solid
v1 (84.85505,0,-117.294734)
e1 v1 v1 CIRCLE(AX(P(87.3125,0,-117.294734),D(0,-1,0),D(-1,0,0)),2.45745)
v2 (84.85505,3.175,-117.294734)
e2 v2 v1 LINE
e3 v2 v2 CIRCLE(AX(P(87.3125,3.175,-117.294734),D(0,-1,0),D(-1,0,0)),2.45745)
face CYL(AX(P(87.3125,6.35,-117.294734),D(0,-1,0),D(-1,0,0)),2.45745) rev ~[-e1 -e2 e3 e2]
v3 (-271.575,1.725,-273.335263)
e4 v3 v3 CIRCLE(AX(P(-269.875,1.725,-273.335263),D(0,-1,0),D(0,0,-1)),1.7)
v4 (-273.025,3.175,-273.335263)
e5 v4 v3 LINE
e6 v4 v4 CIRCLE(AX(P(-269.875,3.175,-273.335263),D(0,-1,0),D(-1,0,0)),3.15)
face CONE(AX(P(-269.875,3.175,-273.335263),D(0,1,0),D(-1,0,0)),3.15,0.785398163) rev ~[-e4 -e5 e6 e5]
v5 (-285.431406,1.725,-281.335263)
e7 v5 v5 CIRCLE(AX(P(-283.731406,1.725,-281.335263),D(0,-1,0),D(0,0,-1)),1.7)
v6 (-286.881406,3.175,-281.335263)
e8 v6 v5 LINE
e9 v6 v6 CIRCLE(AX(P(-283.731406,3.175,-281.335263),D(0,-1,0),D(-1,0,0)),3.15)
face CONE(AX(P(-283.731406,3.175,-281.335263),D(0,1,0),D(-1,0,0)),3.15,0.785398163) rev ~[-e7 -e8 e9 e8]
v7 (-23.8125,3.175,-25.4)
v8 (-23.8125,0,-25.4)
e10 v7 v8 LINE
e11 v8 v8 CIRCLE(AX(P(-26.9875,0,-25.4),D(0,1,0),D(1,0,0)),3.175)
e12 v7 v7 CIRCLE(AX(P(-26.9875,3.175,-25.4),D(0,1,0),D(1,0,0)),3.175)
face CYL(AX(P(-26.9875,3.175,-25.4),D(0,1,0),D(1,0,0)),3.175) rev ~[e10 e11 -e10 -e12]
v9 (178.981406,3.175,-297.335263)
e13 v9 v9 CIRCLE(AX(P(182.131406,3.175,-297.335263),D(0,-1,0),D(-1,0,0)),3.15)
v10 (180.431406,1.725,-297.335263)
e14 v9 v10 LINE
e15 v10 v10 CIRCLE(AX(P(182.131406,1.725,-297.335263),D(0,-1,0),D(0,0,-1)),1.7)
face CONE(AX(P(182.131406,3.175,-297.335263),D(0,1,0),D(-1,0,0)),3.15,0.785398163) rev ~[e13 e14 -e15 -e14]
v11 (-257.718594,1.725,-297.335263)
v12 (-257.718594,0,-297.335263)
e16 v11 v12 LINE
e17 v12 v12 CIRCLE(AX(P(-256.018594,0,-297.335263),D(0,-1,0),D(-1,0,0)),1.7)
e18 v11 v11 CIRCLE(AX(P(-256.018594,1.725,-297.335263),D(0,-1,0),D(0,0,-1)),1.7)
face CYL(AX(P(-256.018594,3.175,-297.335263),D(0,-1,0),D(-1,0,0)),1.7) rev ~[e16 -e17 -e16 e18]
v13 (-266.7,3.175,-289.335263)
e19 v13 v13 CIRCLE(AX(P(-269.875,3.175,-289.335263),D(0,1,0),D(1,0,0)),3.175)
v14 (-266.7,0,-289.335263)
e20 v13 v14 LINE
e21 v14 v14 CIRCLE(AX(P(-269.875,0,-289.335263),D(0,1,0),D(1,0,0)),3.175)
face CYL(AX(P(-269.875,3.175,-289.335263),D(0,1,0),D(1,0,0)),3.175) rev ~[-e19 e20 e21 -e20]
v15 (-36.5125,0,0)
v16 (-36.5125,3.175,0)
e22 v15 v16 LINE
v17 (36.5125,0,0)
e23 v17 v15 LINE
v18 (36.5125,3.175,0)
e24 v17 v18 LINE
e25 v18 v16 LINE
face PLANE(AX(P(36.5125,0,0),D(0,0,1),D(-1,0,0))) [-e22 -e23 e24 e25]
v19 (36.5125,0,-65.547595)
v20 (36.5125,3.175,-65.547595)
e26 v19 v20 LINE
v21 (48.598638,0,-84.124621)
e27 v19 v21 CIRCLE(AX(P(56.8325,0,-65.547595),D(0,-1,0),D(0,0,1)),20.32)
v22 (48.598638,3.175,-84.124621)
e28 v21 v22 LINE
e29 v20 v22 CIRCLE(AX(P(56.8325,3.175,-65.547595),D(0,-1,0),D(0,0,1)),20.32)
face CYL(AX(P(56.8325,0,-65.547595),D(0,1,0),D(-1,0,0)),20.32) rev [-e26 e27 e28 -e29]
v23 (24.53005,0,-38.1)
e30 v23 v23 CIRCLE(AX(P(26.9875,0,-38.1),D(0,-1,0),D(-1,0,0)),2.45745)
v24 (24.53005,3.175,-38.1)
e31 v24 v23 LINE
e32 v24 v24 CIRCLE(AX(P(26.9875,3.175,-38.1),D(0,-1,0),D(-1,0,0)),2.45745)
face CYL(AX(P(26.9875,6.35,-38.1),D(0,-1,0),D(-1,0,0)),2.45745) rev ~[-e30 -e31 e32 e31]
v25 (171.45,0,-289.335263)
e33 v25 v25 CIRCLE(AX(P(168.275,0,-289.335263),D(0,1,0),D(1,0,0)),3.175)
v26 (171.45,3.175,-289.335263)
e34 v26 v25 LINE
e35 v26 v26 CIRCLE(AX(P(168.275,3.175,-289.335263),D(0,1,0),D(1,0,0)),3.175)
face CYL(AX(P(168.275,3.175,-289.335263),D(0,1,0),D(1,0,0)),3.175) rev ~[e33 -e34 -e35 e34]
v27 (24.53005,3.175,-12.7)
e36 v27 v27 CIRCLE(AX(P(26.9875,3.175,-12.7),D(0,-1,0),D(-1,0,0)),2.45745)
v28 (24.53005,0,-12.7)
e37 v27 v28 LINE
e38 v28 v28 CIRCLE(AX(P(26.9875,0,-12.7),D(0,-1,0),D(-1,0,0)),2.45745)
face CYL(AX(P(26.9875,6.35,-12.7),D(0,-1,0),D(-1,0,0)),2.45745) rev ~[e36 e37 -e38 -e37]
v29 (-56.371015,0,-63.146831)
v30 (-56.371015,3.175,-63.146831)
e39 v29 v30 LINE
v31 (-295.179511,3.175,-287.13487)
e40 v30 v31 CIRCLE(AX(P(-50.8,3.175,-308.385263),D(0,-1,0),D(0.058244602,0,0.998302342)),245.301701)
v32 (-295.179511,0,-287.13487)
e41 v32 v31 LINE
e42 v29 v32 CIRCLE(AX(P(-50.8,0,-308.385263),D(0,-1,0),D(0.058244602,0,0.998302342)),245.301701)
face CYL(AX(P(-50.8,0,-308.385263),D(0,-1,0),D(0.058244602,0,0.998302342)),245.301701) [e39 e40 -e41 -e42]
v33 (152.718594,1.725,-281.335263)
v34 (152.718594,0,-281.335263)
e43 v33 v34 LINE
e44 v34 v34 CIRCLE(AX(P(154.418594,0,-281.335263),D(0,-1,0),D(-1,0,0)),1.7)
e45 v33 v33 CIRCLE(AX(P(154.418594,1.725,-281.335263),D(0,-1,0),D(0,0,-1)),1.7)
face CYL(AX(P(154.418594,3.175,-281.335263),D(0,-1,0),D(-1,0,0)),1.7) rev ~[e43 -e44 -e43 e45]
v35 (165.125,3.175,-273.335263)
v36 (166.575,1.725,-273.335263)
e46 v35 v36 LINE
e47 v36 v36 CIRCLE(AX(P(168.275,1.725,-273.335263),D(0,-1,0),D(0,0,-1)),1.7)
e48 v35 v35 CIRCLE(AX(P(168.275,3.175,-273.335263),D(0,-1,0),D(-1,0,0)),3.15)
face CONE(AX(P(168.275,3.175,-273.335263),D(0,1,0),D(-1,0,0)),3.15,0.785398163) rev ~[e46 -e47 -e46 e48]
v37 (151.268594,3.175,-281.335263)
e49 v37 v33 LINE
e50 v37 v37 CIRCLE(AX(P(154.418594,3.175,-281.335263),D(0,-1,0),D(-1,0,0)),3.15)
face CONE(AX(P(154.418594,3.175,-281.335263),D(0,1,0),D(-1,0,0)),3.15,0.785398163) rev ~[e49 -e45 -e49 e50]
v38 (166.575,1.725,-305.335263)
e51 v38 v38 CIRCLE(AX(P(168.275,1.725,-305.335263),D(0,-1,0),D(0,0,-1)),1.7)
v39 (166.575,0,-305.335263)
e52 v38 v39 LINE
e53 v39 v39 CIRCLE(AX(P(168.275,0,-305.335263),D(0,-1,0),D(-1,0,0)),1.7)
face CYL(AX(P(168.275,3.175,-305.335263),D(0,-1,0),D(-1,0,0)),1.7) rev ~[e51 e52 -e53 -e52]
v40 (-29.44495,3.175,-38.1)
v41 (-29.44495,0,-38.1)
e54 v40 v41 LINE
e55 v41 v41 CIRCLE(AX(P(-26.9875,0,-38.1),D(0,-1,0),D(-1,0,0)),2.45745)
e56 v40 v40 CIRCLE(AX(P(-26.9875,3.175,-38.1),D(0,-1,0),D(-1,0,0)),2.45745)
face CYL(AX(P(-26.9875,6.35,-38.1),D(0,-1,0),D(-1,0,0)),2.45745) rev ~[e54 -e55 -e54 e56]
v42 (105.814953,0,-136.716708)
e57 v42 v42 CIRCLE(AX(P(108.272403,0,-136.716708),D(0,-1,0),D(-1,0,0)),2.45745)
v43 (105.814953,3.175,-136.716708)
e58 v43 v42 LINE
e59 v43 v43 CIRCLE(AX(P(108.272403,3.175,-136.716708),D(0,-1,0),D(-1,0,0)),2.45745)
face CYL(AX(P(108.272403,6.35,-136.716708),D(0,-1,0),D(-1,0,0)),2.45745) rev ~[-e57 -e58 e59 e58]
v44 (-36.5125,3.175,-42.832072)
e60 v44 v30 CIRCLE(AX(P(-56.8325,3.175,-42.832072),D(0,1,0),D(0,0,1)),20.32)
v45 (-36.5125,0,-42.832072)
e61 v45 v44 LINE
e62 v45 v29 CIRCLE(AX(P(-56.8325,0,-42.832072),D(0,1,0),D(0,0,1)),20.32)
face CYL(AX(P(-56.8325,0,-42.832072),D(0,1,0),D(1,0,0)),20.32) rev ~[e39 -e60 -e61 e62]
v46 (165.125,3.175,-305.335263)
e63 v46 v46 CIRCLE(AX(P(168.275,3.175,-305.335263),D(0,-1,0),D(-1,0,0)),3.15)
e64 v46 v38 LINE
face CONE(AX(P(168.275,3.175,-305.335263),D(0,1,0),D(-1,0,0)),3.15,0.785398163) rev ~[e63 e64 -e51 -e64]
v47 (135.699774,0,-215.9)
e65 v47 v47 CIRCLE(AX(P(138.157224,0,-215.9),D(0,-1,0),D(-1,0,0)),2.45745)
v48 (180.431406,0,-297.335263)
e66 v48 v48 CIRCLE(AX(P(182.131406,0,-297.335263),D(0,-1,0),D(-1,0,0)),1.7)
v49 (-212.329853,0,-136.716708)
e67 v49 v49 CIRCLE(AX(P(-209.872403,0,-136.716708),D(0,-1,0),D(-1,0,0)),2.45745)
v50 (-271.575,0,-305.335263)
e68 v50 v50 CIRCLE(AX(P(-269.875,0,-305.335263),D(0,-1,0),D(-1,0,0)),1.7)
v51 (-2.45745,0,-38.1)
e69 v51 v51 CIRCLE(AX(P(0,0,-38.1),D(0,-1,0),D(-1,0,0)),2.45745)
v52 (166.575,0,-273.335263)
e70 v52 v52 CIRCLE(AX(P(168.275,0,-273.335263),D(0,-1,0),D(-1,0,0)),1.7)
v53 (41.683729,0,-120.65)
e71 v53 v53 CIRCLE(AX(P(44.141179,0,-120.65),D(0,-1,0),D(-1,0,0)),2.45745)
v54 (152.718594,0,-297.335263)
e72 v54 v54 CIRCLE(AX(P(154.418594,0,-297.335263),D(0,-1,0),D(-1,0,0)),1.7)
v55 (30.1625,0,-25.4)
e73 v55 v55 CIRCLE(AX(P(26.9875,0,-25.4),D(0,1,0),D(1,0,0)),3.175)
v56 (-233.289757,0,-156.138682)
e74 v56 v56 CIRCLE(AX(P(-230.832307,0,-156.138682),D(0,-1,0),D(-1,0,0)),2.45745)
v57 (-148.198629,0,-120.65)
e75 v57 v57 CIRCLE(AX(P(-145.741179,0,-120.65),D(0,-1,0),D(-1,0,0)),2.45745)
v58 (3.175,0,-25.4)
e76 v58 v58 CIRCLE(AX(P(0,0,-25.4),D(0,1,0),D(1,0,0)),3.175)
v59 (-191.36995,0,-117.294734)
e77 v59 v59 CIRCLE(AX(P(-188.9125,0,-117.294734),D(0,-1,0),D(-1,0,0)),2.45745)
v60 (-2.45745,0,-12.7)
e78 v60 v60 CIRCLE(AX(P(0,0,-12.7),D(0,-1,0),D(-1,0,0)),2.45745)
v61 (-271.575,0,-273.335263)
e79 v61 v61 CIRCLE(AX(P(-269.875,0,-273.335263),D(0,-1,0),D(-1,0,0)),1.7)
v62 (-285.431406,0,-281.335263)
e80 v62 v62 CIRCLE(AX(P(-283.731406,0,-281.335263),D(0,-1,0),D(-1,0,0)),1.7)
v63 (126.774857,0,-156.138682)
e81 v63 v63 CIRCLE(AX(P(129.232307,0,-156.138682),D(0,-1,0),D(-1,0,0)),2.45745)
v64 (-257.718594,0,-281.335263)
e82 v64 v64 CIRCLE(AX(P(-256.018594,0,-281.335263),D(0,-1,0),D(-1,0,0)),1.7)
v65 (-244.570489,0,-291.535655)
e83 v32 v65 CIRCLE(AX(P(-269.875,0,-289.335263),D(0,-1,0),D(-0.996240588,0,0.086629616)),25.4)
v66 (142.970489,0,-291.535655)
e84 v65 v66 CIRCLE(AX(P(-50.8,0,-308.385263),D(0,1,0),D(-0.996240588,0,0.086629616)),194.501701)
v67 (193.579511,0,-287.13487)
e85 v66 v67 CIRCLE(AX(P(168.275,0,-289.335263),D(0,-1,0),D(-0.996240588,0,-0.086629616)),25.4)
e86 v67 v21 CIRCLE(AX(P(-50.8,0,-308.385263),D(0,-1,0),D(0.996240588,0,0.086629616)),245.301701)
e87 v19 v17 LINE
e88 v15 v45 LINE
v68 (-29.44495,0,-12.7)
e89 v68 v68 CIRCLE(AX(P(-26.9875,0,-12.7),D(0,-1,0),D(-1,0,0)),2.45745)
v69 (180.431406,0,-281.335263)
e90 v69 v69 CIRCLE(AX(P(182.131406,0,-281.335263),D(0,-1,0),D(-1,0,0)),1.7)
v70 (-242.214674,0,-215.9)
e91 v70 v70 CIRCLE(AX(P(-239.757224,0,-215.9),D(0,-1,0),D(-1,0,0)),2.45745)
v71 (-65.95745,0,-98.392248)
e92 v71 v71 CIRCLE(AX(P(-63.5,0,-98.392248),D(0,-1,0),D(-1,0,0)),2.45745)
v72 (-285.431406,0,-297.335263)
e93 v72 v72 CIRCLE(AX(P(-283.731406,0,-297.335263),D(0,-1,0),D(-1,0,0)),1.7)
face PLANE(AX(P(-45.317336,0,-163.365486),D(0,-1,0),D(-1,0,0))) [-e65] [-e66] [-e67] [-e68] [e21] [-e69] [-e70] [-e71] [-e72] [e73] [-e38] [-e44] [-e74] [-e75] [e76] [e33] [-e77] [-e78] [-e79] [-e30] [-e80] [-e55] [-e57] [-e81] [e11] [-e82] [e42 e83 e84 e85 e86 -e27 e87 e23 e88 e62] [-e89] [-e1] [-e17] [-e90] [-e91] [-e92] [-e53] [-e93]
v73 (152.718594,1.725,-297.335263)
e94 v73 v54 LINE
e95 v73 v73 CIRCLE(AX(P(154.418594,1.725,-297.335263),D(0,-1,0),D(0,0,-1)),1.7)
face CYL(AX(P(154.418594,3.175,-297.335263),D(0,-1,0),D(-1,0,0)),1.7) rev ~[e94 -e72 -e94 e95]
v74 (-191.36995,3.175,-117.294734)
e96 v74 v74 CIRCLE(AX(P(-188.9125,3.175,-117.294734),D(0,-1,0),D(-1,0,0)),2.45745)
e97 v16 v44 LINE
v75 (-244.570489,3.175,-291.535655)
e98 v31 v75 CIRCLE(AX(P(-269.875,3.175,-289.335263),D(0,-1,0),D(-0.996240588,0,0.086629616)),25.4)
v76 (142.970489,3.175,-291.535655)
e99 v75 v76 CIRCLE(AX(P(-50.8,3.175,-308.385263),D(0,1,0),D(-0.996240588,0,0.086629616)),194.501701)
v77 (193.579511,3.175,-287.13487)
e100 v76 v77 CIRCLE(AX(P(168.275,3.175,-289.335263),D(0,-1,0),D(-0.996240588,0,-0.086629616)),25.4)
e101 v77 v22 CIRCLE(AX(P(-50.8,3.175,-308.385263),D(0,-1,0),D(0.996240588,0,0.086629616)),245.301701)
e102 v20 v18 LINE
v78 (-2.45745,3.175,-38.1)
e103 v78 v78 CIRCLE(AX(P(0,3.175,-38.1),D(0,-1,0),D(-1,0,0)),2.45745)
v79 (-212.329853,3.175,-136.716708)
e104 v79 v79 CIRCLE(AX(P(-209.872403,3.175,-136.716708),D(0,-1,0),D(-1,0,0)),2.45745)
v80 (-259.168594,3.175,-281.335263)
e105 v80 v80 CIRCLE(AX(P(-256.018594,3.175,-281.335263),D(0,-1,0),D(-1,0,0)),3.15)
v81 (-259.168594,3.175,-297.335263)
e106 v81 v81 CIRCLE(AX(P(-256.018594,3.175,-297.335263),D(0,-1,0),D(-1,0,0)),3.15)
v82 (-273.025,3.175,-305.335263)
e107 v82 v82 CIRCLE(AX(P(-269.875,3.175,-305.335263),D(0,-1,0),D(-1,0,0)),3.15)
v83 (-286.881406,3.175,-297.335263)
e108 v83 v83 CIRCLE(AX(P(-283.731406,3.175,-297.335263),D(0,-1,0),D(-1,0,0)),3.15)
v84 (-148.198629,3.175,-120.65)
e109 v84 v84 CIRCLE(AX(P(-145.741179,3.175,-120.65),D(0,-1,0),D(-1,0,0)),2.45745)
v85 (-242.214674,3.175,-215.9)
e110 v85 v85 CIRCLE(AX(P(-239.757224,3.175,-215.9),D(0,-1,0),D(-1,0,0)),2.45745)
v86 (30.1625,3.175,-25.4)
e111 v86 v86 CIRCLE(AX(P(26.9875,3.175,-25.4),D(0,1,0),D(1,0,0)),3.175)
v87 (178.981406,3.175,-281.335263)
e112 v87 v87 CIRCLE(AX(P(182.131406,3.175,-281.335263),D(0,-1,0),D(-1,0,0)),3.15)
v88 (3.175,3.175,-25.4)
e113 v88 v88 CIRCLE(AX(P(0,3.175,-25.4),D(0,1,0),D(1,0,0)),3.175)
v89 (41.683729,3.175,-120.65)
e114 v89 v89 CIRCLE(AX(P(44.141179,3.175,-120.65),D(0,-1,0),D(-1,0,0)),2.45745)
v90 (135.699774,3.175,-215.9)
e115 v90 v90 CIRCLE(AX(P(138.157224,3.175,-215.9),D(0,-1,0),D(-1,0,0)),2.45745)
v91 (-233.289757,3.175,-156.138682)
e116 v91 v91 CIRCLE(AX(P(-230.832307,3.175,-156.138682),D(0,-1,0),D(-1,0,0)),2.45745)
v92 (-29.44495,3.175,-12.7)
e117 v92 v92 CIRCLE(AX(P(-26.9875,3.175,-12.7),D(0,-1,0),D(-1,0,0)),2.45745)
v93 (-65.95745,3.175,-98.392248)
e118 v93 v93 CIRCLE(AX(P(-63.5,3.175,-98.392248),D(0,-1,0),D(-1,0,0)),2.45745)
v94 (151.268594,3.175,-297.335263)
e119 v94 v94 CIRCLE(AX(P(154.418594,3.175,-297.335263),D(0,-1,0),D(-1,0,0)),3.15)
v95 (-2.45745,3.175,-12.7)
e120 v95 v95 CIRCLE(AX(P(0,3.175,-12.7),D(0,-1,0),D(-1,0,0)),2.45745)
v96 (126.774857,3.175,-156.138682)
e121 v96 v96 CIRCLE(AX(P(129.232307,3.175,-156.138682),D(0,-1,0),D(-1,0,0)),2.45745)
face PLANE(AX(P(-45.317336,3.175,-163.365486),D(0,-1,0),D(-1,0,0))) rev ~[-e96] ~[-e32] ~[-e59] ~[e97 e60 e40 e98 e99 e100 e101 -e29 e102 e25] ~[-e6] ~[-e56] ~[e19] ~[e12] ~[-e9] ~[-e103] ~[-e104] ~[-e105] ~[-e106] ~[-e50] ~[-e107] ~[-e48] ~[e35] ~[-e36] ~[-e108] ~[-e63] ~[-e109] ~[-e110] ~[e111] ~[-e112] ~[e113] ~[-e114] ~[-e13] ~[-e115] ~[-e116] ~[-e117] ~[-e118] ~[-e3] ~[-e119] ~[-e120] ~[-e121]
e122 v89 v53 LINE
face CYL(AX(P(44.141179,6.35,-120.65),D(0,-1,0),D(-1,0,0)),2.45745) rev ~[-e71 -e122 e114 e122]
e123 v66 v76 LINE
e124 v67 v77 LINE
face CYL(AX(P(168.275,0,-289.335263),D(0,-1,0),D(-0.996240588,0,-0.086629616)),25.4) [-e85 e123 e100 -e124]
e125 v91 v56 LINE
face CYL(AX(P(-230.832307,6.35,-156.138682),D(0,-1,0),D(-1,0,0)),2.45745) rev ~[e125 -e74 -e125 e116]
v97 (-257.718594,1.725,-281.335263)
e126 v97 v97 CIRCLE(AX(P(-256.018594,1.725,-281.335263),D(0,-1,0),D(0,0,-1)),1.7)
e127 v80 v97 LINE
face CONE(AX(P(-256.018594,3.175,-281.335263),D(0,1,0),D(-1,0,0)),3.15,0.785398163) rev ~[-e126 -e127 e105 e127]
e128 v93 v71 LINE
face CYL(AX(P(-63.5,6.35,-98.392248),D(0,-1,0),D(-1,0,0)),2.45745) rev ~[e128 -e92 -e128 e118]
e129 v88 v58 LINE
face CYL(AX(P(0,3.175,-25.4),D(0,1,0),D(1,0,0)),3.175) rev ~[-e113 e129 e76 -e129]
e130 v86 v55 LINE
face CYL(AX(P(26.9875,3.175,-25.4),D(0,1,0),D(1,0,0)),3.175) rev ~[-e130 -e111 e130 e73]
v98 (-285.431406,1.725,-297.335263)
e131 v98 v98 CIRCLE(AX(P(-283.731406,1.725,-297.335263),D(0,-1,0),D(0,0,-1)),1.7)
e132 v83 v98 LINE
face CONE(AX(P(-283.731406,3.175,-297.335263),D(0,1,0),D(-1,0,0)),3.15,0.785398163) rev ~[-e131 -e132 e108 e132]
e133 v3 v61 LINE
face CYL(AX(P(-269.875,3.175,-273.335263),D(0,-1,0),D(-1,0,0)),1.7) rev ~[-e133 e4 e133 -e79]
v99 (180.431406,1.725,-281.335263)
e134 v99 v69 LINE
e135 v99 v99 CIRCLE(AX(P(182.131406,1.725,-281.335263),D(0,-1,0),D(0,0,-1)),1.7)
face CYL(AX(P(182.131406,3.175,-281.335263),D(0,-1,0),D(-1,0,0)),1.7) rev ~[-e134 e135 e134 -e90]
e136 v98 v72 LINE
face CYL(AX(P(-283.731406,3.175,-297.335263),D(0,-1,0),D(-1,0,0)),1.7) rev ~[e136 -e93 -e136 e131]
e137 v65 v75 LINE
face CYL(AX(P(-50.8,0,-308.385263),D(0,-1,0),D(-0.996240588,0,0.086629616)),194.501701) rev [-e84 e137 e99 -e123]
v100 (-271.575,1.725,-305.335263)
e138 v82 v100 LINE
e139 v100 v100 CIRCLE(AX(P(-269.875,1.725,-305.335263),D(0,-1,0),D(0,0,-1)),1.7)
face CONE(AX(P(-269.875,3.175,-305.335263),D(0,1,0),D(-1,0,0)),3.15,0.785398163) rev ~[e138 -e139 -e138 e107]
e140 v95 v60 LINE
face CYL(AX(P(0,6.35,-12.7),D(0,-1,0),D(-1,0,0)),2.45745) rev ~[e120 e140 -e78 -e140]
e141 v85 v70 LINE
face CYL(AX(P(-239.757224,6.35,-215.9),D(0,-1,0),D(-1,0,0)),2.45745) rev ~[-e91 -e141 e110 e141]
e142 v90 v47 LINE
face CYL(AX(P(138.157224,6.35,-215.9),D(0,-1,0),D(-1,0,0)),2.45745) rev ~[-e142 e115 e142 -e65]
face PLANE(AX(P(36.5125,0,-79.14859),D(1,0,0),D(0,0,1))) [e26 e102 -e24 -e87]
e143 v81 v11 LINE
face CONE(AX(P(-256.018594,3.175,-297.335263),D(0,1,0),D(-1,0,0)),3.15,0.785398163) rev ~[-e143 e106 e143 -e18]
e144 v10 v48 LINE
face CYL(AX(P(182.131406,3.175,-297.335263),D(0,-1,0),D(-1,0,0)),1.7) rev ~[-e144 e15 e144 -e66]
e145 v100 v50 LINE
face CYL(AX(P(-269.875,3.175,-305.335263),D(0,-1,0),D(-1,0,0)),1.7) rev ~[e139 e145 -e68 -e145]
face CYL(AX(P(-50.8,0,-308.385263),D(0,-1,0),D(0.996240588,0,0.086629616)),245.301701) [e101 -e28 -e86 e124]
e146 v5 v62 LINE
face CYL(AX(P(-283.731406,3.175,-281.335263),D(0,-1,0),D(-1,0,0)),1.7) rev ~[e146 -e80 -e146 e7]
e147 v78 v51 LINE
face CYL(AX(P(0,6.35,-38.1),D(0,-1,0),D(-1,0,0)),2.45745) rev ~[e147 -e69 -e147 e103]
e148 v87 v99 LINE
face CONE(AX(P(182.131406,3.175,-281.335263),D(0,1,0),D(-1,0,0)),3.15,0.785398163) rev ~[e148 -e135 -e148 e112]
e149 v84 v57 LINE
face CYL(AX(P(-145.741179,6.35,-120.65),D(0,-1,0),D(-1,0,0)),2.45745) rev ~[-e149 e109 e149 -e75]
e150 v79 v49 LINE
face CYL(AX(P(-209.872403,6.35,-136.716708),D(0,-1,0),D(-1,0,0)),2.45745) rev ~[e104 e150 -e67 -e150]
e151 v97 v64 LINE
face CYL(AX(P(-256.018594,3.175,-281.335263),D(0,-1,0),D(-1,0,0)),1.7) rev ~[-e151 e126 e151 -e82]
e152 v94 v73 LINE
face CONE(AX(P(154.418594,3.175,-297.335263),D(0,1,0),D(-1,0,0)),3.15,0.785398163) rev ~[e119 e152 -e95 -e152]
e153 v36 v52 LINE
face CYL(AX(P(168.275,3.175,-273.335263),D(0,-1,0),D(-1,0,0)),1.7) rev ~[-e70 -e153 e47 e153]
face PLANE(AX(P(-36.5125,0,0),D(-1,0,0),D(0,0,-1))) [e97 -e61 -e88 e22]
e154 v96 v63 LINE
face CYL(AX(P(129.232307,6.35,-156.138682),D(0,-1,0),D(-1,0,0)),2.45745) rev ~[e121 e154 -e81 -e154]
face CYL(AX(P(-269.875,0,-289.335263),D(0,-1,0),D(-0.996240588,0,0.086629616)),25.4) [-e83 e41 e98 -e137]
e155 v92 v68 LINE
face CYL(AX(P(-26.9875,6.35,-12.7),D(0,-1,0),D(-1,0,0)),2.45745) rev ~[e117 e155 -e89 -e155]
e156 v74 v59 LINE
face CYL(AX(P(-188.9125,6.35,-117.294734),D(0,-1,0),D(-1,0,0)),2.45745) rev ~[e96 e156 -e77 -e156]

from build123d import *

# Parameters (mm, degrees)
BOSS_EXTRUDE1_DEPTH                             = 3.175
SKETCH2_R                                       = 3.175
CUT_EXTRUDE1_DEPTH                              = 4.175
FILLET1_R                                       = 20.32
CSK_FOR_M3_FLAT_HEAD_MACHINE_SCREW1_D           = 3.4
CSK_FOR_M3_FLAT_HEAD_MACHINE_SCREW1_DEPTH       = 3.175
CSK_FOR_M3_FLAT_HEAD_MACHINE_SCREW1_CSINK_D     = 6.3
CSK_FOR_M3_FLAT_HEAD_MACHINE_SCREW1_CSINK_ANGLE = 90
F_10_0_1935_DIAMETER_HOLE1_D                    = 4.9149
F_10_0_1935_DIAMETER_HOLE1_DEPTH                = 3.175
F_10_0_1935_DIAMETER_HOLE2_D                    = 4.9149
F_10_0_1935_DIAMETER_HOLE2_DEPTH                = 3.175
F_10_0_1935_DIAMETER_HOLE3_D                    = 4.9149
F_10_0_1935_DIAMETER_HOLE3_DEPTH                = 3.175
SKETCH17_R                                      = 3.175
CUT_EXTRUDE2_DEPTH                              = 4.175


with BuildPart() as part:
    # Sketch1 → Boss-Extrude1 (new body)
    with BuildSketch(Plane(origin=(0, 0, 0), x_dir=(1, 0, 0), z_dir=(0, 1, 0))):
        with BuildLine():
            Line((36.5125, 0), (-36.5125, 0))
            Line((-36.5125, 0), (-36.5125, 63.5))
            ThreePointArc((-36.5125, 63.5), (-211.232921163, 122.820712342), (-295.17951094, 287.134870433))
            ThreePointArc((-295.17951094, 287.134870433), (-272.075392256, 314.639773629), (-244.57048906, 291.535654944))
            ThreePointArc((-244.57048906, 291.535654944), (-50.8, 113.883561638), (142.97048906, 291.535654944))
            ThreePointArc((142.97048906, 291.535654944), (170.475392256, 314.639773629), (193.57951094, 287.134870433))
            ThreePointArc((193.57951094, 287.134870433), (144.953596881, 160.556125349), (36.5125, 79.148590487))
            Line((36.5125, 79.148590487), (36.5125, 0))
        make_face()
    extrude(amount=BOSS_EXTRUDE1_DEPTH)

    # Sketch2 → Cut-Extrude1 (cut, through all)
    with BuildSketch(Plane(origin=(0, 3.175, 0), x_dir=(1, 0, 0), z_dir=(0, 1, 0))):
        with Locations((-269.875, 289.335262689)):
            Circle(SKETCH2_R)
        with Locations((168.275, 289.335262689)):
            Circle(SKETCH2_R)
    extrude(amount=-CUT_EXTRUDE1_DEPTH, mode=Mode.SUBTRACT)

    # Fillet1
    fillet1_edges = [part.edges().sort_by_distance(p)[0] for p in [
        (-36.5125, 1.5875, -63.5),
        (36.5125, 1.5875, -79.148590487),
    ]]
    fillet(fillet1_edges, radius=FILLET1_R)

    # CSK for M3 Flat Head Machine Screw1
    with Locations(Plane(origin=(0, 3.175, 0), x_dir=(1, 0, 0), z_dir=(0, 1, 0))):
        with Locations((-269.875, 305.335262689), (168.275, 305.335262689), (182.131406461, 297.335262689), (182.131406461, 281.335262689), (168.275, 273.335262689), (154.418593539, 281.335262689), (154.418593539, 297.335262689), (-256.018593539, 297.335262689), (-256.018593539, 281.335262689), (-269.875, 273.335262689), (-283.731406461, 281.335262689), (-283.731406461, 297.335262689)):
            CounterSinkHole(CSK_FOR_M3_FLAT_HEAD_MACHINE_SCREW1_D / 2, CSK_FOR_M3_FLAT_HEAD_MACHINE_SCREW1_CSINK_D / 2, depth=CSK_FOR_M3_FLAT_HEAD_MACHINE_SCREW1_DEPTH, counter_sink_angle=CSK_FOR_M3_FLAT_HEAD_MACHINE_SCREW1_CSINK_ANGLE)

    # #10 (0.1935) Diameter Hole1
    with Locations(Plane(origin=(0, 3.175, 0), x_dir=(1, 0, 0), z_dir=(0, 1, 0))):
        with Locations((-26.9875, 12.7), (-26.9875, 38.1), (0, 38.1), (0, 12.7), (26.9875, 12.7), (26.9875, 38.1)):
            Hole(F_10_0_1935_DIAMETER_HOLE1_D / 2, depth=F_10_0_1935_DIAMETER_HOLE1_DEPTH)

    # #10 (0.1935) Diameter Hole2
    with Locations(Plane(origin=(0, 3.175, 0), x_dir=(1, 0, 0), z_dir=(0, 1, 0))):
        with Locations((87.3125, 117.294734137), (108.272403388, 136.716708161), (129.232306776, 156.138682184), (-188.9125, 117.294734137), (-209.872403388, 136.716708161), (-230.832306776, 156.138682184)):
            Hole(F_10_0_1935_DIAMETER_HOLE2_D / 2, depth=F_10_0_1935_DIAMETER_HOLE2_DEPTH)

    # #10 (0.1935) Diameter Hole3
    with Locations(Plane(origin=(0, 3.175, 0), x_dir=(1, 0, 0), z_dir=(0, 1, 0))):
        with Locations((-63.5, 98.392247698), (44.141179096, 120.65), (138.157224076, 215.9), (-239.757224076, 215.9), (-145.741179096, 120.65)):
            Hole(F_10_0_1935_DIAMETER_HOLE3_D / 2, depth=F_10_0_1935_DIAMETER_HOLE3_DEPTH)

    # Sketch17 → Cut-Extrude2 (cut, through all)
    with BuildSketch(Plane(origin=(0, 3.175, 0), x_dir=(1, 0, 0), z_dir=(0, 1, 0))):
        with Locations((-26.9875, 25.4)):
            Circle(SKETCH17_R)
        with Locations((0, 25.4)):
            Circle(SKETCH17_R)
        with Locations((26.9875, 25.4)):
            Circle(SKETCH17_R)
    extrude(amount=-CUT_EXTRUDE2_DEPTH, mode=Mode.SUBTRACT)


solid = part.part
